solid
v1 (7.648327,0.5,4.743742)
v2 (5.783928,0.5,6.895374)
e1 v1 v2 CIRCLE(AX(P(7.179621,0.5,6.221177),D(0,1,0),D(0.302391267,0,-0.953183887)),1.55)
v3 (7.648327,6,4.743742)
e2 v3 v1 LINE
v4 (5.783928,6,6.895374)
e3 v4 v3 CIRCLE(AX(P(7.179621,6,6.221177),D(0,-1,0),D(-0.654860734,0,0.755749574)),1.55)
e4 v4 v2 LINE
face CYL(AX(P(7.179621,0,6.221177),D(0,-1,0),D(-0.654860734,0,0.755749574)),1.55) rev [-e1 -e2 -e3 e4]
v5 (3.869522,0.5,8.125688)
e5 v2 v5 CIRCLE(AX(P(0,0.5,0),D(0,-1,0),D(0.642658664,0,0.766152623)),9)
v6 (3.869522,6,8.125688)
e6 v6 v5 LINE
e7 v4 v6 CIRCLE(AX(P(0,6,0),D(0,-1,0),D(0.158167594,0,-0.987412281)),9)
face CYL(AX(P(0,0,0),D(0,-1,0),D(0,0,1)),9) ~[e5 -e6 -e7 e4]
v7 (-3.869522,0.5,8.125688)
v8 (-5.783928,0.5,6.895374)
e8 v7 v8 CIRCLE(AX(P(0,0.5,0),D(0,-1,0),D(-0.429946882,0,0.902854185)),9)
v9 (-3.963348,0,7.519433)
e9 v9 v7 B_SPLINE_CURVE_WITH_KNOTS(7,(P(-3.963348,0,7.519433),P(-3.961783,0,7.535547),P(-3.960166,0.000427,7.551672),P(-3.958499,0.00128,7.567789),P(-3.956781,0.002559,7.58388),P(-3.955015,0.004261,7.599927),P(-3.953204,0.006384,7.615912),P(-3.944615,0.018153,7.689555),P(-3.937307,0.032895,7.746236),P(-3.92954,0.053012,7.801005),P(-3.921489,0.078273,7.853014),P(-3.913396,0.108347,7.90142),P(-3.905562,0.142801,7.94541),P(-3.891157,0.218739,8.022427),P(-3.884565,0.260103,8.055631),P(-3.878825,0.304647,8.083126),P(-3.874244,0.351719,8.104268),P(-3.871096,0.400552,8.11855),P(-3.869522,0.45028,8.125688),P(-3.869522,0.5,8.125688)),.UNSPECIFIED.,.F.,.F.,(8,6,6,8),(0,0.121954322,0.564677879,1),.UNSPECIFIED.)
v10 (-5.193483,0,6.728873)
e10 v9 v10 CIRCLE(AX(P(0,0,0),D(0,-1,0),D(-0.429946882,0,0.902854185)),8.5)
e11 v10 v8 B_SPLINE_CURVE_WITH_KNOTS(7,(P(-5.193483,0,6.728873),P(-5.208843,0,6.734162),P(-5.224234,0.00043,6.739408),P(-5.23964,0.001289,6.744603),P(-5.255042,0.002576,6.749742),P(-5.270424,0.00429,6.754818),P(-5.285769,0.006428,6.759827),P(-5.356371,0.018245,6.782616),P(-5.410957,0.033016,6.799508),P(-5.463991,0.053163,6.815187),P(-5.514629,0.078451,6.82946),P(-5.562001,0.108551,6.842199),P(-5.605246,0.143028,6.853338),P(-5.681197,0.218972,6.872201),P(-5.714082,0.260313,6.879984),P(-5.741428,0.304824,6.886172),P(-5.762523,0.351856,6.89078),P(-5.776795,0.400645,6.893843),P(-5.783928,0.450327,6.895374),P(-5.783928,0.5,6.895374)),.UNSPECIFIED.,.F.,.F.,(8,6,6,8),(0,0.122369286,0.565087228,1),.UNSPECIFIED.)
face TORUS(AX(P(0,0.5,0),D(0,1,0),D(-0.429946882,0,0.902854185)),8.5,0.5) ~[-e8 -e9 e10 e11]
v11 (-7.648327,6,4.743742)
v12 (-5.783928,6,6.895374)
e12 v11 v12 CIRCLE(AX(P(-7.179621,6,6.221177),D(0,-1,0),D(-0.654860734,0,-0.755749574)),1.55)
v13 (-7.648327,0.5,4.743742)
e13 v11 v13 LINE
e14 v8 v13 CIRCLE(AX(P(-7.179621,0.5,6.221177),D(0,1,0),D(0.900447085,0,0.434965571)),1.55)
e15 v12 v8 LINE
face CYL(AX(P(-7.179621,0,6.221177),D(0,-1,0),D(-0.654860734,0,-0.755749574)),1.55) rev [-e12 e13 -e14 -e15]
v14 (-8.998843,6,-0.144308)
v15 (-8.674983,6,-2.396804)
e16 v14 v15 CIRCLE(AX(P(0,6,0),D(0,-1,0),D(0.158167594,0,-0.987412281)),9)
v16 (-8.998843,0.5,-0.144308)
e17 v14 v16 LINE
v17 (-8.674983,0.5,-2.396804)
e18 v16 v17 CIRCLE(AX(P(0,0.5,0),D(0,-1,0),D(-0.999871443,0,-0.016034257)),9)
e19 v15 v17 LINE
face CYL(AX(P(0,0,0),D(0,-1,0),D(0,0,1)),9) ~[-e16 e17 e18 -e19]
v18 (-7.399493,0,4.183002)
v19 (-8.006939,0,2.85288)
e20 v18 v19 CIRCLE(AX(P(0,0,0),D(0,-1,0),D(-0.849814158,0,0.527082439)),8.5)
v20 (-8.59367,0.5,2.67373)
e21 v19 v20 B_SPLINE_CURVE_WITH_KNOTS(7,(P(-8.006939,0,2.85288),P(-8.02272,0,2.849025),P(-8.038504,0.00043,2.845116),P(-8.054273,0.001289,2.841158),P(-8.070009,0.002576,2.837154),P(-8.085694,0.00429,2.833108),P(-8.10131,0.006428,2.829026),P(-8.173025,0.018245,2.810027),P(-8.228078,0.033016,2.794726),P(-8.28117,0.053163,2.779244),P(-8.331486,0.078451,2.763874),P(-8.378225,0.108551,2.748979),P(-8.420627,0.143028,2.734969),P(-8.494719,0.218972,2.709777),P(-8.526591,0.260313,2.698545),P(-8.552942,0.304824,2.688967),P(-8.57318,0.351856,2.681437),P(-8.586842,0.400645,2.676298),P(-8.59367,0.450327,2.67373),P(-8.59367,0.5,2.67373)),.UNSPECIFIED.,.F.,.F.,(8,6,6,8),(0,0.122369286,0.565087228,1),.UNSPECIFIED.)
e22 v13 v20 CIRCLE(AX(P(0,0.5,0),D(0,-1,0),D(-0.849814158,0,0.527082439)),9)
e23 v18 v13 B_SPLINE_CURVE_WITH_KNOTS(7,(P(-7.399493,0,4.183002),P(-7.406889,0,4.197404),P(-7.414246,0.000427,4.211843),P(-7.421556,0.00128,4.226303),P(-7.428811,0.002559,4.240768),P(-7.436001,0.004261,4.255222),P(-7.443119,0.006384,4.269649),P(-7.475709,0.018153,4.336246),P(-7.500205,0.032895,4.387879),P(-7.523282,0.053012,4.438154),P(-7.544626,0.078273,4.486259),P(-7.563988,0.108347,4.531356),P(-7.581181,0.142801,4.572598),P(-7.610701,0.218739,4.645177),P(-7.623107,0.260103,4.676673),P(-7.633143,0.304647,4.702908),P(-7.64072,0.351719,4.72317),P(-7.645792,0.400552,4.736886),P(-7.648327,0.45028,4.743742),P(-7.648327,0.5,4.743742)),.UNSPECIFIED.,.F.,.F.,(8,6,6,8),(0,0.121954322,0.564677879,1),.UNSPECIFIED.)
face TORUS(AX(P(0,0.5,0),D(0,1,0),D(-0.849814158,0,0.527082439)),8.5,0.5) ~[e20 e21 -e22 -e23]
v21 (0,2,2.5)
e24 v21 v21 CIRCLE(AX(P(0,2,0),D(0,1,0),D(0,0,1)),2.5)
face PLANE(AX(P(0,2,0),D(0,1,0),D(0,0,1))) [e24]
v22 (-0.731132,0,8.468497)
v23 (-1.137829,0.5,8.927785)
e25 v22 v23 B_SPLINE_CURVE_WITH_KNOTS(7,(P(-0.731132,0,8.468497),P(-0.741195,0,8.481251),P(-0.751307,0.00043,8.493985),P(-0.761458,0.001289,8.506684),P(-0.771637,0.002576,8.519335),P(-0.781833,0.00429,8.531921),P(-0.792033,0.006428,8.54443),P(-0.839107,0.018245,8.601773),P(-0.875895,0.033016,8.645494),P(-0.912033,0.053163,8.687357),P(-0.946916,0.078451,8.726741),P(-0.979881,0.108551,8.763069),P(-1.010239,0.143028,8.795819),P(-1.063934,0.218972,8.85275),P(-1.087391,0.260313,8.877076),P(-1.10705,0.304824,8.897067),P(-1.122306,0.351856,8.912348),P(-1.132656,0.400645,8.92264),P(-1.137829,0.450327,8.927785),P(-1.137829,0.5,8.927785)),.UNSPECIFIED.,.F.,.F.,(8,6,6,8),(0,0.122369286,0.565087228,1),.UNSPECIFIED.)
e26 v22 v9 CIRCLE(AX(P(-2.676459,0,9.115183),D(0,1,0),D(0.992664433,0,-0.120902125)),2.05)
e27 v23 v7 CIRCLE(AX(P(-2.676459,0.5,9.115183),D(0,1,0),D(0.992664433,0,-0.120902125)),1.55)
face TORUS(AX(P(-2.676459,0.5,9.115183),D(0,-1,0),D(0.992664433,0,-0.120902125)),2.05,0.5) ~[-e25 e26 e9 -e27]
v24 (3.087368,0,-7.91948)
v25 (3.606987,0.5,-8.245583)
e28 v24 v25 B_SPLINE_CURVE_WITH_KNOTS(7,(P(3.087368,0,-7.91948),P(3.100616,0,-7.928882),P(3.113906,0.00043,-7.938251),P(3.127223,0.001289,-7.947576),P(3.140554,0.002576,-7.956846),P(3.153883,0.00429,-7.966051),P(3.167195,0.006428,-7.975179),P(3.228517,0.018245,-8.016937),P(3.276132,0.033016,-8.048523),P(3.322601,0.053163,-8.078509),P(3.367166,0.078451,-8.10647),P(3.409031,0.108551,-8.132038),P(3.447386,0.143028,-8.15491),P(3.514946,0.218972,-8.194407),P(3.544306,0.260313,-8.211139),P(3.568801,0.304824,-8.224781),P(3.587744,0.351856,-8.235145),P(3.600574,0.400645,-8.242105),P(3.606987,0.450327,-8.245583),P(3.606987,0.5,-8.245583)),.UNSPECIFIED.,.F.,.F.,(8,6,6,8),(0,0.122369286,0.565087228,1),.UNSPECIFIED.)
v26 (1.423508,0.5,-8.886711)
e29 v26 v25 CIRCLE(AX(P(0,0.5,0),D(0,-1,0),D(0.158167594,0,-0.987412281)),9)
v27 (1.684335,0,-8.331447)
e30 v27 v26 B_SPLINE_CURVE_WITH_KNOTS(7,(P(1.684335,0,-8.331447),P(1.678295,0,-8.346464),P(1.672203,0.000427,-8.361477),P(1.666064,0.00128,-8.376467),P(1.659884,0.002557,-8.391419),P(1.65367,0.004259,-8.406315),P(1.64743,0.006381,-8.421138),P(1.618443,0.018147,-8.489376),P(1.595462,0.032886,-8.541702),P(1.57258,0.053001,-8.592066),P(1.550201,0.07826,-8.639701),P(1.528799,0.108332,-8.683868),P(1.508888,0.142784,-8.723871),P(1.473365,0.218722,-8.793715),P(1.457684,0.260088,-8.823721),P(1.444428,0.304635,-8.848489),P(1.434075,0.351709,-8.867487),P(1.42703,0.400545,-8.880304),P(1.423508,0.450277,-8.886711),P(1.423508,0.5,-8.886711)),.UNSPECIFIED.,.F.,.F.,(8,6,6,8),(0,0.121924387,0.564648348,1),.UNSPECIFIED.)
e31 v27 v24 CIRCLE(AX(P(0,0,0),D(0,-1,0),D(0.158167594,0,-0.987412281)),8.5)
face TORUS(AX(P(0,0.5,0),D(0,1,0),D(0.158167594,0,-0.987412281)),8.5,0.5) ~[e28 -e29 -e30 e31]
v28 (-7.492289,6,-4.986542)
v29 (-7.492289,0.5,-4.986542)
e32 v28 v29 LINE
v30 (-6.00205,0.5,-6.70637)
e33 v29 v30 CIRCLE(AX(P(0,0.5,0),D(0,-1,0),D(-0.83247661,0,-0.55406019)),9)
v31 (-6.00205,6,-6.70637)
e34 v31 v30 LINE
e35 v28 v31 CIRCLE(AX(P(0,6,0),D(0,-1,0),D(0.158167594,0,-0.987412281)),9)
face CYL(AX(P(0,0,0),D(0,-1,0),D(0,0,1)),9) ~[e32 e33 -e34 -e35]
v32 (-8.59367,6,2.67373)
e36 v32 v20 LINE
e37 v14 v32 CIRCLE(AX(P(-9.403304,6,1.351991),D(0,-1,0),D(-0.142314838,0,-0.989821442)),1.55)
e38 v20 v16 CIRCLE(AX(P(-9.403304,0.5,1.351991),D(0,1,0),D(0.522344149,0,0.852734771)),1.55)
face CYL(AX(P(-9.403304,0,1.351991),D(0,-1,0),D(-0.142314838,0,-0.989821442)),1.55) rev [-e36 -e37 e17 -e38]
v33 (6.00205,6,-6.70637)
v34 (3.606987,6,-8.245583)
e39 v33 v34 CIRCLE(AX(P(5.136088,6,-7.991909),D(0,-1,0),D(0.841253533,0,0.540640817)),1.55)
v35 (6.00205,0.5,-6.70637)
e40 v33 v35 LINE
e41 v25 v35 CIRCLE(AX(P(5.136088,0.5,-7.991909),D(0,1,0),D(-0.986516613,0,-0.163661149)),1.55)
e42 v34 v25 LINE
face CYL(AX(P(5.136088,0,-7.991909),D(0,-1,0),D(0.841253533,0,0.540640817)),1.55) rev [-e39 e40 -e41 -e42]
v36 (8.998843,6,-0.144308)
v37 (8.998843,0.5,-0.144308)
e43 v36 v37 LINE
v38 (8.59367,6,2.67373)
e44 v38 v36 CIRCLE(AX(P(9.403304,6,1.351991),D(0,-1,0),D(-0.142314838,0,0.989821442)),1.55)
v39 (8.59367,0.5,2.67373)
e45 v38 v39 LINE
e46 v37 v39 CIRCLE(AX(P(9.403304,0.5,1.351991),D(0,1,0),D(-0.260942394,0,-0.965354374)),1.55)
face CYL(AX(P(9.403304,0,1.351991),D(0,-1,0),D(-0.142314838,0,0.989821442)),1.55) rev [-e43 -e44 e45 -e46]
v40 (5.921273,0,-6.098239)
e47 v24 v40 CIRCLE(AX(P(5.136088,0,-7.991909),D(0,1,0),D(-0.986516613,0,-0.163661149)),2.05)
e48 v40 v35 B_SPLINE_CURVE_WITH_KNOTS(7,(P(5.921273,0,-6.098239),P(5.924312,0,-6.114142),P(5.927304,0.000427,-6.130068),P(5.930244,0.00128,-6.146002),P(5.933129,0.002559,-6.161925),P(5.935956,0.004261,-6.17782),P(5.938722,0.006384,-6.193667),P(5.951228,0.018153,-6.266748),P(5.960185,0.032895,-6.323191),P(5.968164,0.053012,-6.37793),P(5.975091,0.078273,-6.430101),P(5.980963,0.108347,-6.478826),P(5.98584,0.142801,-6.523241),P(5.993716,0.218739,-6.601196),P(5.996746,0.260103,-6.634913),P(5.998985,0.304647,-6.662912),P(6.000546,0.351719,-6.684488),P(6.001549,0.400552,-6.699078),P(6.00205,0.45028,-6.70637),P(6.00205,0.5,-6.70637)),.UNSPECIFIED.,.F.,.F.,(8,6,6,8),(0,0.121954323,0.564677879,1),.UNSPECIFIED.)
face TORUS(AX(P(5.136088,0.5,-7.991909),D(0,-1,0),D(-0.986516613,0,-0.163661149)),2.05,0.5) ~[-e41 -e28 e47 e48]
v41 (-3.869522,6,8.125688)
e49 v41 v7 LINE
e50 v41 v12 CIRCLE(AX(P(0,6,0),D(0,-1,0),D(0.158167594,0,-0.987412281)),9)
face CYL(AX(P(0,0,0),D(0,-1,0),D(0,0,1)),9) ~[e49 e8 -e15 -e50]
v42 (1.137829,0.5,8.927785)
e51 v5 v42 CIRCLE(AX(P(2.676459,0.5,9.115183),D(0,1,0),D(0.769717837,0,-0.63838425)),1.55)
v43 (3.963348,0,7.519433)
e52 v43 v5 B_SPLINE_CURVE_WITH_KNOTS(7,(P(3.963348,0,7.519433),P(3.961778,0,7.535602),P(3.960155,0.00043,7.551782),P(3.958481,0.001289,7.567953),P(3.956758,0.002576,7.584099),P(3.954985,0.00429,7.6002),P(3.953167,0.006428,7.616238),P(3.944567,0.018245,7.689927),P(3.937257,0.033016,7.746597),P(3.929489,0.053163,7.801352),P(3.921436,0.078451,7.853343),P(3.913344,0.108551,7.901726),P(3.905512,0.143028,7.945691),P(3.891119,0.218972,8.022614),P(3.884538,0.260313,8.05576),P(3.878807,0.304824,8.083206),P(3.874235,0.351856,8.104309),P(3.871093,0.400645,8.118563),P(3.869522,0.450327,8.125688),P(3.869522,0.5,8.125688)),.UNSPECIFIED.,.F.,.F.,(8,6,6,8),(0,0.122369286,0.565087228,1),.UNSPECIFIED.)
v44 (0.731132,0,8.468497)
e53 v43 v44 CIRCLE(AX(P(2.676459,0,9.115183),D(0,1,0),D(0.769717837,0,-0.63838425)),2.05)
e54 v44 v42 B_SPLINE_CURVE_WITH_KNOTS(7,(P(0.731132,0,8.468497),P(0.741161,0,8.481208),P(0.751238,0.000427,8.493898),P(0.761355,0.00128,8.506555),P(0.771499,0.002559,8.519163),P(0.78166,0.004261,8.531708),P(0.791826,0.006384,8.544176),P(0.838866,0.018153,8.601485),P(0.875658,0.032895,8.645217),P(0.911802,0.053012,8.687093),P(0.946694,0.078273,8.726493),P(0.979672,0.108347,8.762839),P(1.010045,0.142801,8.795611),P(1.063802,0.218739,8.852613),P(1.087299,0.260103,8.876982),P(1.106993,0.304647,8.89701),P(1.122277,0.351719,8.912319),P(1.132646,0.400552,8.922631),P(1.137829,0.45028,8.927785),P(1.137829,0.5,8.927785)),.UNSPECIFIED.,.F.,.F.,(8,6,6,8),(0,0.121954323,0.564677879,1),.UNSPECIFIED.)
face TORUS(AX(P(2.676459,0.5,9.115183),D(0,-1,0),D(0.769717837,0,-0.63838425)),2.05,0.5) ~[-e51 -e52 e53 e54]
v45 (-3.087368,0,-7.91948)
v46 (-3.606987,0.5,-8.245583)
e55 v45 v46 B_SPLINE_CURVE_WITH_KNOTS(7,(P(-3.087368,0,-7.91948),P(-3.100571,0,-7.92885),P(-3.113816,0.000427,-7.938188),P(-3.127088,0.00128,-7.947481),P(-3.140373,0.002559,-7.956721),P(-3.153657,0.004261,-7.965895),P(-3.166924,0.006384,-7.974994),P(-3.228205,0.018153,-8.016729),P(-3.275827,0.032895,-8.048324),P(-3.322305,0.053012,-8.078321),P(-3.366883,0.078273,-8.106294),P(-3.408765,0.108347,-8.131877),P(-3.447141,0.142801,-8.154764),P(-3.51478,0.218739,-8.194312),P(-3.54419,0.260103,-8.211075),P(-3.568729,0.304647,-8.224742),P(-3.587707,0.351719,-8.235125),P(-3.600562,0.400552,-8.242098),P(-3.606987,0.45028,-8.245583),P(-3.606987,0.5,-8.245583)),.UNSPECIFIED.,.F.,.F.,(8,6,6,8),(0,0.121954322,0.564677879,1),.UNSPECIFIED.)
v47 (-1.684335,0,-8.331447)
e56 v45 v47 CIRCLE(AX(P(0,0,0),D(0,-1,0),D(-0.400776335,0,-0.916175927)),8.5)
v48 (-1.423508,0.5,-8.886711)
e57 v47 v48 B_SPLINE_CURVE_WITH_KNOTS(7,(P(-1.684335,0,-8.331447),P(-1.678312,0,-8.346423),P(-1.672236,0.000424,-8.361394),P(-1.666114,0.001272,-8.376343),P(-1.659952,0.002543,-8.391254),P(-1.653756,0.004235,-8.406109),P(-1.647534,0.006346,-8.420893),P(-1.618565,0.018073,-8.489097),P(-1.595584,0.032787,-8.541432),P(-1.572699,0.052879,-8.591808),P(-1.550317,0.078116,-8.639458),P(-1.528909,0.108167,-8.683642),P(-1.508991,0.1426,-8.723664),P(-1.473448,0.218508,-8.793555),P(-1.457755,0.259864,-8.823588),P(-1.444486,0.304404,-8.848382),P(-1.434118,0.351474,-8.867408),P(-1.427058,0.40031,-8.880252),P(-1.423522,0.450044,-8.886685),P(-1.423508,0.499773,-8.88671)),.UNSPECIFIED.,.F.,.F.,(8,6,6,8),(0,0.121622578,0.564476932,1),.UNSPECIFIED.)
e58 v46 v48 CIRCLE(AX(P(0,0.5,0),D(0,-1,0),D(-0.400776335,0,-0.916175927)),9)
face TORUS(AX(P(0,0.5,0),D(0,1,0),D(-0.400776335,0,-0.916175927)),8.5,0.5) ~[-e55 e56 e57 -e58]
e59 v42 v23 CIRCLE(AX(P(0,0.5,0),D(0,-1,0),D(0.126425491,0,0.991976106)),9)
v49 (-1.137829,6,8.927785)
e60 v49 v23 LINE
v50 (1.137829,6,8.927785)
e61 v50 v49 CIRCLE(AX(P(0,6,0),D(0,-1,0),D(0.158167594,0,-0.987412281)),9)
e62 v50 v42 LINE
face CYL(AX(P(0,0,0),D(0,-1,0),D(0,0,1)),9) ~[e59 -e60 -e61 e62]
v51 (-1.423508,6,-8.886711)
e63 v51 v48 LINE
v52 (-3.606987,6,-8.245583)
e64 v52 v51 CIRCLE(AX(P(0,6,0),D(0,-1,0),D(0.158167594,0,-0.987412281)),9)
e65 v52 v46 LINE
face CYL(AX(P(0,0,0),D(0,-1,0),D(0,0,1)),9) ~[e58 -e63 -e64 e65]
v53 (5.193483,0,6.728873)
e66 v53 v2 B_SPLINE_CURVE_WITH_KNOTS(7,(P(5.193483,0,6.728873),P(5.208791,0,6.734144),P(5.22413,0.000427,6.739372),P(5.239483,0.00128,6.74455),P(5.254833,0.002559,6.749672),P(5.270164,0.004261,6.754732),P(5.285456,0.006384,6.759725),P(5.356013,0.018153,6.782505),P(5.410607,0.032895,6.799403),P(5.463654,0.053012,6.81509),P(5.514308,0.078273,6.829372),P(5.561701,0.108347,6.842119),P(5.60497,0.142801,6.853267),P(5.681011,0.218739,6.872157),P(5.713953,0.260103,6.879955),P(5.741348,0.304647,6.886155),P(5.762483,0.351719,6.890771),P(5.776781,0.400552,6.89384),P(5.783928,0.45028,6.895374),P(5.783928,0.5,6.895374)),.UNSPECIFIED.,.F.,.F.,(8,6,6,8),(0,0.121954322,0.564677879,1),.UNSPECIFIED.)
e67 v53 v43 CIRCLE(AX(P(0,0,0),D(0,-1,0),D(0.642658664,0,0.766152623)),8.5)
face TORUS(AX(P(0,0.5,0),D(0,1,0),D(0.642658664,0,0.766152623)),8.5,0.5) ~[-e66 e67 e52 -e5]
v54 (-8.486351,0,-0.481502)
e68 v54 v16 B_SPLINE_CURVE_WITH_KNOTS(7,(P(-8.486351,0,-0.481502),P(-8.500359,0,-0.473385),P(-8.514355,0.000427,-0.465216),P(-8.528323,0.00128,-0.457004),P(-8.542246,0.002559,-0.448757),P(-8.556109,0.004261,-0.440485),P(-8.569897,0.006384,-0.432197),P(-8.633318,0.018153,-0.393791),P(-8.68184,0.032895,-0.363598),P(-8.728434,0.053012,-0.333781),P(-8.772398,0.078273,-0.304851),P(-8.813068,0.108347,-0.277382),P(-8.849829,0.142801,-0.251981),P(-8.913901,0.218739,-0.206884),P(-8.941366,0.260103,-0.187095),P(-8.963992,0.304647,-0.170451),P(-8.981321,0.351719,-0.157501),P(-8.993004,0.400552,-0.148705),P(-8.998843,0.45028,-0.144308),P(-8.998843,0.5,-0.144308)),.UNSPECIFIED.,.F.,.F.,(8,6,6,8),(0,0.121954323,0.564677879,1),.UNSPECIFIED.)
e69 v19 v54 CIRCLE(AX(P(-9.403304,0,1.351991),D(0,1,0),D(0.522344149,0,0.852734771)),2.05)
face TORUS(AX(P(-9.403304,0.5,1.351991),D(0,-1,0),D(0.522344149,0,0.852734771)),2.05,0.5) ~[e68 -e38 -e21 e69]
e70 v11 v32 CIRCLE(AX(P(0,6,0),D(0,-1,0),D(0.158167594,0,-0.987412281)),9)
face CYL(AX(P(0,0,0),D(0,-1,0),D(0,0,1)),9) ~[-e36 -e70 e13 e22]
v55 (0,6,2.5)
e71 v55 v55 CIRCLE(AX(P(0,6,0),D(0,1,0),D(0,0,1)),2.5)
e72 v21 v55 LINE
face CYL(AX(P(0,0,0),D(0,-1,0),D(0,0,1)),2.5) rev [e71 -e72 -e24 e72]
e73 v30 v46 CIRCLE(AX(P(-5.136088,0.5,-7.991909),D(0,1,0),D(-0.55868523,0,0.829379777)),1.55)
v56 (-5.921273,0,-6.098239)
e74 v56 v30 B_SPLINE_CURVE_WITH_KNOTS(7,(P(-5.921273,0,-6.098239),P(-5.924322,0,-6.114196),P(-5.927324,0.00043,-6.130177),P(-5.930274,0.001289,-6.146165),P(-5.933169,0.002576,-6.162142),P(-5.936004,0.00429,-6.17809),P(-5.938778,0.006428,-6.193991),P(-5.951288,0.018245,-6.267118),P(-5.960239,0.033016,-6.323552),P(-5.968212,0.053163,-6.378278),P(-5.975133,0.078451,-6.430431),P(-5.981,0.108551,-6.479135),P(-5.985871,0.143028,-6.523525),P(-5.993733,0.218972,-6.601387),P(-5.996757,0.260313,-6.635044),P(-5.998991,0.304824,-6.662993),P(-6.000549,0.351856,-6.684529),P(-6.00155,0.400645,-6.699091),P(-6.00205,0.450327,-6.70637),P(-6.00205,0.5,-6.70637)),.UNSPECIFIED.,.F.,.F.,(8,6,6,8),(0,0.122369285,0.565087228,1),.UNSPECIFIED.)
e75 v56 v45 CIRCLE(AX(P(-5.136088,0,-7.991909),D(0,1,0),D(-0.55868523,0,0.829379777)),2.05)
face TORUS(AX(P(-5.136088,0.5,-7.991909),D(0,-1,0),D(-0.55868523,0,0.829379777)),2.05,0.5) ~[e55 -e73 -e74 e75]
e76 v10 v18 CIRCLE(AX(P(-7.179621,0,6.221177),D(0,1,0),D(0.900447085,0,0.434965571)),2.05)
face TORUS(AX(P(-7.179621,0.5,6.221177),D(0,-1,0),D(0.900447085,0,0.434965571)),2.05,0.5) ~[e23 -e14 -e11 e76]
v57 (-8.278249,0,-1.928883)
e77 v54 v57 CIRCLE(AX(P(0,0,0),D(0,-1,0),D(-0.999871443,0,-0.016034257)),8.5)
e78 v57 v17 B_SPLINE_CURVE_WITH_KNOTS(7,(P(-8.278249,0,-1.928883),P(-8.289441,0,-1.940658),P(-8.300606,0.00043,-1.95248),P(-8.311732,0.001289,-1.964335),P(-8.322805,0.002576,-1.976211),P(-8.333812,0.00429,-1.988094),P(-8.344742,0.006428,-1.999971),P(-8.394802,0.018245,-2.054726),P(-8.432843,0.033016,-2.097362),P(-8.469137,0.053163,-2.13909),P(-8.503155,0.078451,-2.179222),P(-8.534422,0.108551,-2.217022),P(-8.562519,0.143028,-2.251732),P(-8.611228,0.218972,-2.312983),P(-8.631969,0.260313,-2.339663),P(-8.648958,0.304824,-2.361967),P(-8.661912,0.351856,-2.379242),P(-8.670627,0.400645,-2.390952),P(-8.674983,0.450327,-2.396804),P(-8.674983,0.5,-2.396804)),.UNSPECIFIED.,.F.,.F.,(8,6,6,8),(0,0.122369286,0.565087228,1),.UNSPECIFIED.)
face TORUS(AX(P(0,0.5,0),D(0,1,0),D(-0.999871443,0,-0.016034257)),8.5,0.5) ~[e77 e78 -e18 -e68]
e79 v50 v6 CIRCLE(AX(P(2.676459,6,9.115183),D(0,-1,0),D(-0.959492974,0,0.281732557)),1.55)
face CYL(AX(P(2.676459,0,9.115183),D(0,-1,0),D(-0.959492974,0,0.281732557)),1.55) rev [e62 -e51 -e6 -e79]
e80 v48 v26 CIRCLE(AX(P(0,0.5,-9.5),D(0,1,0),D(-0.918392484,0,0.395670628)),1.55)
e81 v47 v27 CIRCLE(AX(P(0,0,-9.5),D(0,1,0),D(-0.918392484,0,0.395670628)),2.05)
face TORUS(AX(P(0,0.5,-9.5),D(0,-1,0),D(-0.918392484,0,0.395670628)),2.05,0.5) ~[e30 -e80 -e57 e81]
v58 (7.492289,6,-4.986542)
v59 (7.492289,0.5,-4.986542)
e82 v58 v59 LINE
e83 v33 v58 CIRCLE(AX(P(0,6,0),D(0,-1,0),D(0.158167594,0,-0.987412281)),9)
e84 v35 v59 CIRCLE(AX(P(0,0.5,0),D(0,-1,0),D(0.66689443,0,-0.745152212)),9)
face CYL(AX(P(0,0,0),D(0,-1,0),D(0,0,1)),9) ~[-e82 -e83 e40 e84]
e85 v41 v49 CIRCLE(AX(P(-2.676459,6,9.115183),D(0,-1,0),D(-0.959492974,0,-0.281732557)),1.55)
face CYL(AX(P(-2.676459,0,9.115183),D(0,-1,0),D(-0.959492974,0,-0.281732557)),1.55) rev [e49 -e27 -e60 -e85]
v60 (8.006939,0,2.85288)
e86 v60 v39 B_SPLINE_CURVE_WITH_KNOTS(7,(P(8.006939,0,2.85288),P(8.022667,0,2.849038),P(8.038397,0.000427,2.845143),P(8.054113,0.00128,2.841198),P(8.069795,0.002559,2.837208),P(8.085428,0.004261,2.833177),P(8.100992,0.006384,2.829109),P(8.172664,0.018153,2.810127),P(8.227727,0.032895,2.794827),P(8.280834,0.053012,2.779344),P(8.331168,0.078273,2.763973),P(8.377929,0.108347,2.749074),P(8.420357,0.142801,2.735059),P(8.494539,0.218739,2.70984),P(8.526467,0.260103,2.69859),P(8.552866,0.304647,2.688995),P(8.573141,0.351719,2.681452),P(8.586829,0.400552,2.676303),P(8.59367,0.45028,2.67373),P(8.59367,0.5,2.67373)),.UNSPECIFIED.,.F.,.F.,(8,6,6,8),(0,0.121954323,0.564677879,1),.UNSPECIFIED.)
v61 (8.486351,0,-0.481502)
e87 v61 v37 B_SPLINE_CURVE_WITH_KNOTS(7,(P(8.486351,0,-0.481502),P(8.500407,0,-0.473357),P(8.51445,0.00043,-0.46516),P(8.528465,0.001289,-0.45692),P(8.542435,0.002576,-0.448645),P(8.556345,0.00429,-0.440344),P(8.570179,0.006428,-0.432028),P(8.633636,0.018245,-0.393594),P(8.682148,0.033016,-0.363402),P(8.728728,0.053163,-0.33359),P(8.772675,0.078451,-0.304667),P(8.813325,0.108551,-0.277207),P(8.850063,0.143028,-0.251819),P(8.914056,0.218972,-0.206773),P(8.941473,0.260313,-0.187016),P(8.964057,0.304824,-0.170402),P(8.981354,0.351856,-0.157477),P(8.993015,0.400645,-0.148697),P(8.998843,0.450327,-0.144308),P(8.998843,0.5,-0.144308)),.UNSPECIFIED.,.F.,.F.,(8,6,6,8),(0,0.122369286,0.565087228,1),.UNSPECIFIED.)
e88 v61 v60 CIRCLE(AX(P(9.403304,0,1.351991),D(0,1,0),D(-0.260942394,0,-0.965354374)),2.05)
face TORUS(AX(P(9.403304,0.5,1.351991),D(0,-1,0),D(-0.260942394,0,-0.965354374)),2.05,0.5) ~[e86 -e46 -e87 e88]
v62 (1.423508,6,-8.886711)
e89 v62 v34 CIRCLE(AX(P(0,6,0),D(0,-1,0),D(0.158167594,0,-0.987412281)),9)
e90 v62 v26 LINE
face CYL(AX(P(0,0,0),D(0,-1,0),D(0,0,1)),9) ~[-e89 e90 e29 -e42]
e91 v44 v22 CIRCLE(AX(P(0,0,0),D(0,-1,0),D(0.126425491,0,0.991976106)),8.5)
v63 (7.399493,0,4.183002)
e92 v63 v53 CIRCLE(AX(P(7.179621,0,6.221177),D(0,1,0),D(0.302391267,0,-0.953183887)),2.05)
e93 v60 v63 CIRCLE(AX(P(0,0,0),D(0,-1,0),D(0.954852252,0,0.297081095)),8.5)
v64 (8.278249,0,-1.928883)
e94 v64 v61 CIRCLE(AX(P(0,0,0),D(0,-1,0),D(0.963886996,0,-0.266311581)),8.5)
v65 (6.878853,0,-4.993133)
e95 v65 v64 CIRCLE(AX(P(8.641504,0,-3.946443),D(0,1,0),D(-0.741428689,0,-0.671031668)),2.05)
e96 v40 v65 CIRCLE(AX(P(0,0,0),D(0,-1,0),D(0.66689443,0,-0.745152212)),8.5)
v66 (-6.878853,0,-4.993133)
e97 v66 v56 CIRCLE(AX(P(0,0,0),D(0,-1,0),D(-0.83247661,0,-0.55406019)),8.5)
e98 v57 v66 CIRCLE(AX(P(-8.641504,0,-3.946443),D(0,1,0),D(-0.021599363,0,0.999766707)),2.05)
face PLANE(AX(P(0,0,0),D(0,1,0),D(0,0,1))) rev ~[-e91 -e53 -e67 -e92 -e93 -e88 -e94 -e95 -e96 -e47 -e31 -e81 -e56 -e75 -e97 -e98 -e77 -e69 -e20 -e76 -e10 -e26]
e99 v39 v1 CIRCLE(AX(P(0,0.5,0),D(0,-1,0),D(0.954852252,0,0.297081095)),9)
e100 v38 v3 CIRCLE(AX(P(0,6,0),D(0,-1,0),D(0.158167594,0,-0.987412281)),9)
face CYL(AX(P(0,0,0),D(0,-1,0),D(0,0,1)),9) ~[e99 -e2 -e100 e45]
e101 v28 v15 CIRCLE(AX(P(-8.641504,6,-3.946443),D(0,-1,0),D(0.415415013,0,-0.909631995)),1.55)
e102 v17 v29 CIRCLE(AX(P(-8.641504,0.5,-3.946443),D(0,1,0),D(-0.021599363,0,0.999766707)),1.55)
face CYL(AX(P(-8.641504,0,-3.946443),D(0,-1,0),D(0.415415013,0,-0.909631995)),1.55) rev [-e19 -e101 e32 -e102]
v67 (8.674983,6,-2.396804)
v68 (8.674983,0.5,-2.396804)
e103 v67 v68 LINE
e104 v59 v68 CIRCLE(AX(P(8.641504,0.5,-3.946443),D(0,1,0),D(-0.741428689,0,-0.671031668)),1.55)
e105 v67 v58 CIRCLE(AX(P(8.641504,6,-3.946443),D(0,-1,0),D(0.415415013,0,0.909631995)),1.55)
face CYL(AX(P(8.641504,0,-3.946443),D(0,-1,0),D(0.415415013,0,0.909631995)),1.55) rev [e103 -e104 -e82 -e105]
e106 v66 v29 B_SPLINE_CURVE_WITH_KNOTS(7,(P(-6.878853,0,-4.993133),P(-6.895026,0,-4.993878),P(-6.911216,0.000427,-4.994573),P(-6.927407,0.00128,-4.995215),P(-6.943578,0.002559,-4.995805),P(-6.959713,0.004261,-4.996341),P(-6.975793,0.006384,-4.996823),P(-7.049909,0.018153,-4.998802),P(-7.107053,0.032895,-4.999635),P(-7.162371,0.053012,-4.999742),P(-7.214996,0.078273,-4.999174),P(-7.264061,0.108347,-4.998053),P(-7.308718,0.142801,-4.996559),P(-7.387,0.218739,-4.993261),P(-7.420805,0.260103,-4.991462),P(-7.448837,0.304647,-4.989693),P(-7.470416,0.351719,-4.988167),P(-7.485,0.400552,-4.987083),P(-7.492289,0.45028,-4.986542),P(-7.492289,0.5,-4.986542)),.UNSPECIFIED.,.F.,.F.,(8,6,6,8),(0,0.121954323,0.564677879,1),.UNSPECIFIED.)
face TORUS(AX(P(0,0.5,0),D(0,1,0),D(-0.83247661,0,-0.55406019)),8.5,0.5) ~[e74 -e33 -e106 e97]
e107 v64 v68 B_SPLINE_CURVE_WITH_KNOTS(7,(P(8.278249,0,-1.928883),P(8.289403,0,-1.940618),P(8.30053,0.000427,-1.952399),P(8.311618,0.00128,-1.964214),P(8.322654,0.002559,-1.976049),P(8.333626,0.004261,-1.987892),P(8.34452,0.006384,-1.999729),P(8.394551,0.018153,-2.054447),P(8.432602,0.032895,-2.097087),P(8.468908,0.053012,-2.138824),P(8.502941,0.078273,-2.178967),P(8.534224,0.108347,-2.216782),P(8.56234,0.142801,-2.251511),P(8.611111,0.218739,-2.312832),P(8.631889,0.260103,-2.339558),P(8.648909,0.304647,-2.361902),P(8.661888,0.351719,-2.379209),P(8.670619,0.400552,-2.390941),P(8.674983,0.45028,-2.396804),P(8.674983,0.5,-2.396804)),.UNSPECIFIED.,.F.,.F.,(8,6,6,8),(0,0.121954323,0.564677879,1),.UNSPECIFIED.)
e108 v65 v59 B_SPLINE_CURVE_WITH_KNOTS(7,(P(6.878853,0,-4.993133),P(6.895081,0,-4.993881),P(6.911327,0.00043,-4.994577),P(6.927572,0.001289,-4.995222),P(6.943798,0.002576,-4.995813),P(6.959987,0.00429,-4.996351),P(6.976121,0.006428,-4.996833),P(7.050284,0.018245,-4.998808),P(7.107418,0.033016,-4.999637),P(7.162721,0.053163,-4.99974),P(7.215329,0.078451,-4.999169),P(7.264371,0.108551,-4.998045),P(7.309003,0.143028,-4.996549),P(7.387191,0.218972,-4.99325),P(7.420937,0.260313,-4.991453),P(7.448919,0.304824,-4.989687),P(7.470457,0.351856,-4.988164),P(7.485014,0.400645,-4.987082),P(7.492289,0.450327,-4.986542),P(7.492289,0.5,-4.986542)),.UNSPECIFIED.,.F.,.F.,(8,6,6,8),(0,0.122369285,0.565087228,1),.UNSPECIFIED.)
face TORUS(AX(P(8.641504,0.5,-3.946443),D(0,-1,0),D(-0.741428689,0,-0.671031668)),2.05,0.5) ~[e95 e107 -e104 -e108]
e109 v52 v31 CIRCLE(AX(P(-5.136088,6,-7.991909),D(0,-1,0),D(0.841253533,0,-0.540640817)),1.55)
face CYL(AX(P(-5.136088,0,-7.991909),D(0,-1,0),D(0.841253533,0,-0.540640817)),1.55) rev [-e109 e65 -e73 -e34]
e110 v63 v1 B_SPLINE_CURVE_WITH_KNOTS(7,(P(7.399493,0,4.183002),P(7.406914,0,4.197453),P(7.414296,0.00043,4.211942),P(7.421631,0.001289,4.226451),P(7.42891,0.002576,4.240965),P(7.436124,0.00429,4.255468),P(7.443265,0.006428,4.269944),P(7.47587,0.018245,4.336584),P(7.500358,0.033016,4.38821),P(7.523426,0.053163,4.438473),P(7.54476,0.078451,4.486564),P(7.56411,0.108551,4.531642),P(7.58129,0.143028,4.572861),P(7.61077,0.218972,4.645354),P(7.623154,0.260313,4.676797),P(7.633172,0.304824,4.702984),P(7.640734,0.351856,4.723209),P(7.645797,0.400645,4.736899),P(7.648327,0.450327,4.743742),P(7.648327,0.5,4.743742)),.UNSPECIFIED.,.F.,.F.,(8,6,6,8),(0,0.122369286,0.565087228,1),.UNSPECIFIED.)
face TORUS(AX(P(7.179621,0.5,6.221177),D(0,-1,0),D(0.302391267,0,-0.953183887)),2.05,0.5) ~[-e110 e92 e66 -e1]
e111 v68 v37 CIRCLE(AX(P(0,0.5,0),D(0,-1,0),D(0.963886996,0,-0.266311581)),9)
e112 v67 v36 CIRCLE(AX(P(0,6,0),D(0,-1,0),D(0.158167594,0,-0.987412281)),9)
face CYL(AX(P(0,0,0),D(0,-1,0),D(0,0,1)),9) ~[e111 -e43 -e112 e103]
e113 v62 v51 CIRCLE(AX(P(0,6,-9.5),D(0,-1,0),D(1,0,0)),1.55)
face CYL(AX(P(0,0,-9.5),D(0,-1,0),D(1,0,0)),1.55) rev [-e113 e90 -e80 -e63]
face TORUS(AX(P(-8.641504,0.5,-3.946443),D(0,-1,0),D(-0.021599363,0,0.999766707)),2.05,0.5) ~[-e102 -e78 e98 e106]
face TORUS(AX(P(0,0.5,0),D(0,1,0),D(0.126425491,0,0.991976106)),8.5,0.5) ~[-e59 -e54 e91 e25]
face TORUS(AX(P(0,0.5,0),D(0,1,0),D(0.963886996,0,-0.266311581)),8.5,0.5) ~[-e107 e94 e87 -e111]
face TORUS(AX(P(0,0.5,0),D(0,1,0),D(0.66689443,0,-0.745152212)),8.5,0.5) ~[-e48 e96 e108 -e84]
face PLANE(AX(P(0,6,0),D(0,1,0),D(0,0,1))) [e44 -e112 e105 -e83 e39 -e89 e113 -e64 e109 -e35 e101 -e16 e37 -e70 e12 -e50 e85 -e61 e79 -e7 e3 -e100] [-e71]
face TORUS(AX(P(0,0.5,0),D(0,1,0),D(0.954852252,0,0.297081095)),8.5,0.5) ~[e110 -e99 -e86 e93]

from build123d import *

# Parameters (mm, degrees)
SKETCH1_R           = 9
SKETCH1_R_2         = 2.5
BOSS_EXTRUDE1_DEPTH = 6
SKETCH1_3_R         = 2.5
BOSS_EXTRUDE2_DEPTH = 2
SKETCH1_4_R         = 1.55
CUT_EXTRUDE1_DEPTH  = 15.071247279
CIRPATTERN1_COUNT   = 11
FILLET1_R           = 0.5


with BuildPart() as part:
    # Sketch1 → Boss-Extrude1 (new body)
    with BuildSketch(Plane(origin=(0, 0, 0), x_dir=(1, 0, 0), z_dir=(0, 1, 0))):
        Circle(SKETCH1_R)
        Circle(SKETCH1_R_2, mode=Mode.SUBTRACT)
    extrude(amount=BOSS_EXTRUDE1_DEPTH)

    # Sketch1<3> → Boss-Extrude2 (add)
    with BuildSketch(Plane(origin=(0, 0, 0), x_dir=(1, 0, 0), z_dir=(0, 1, 0))):
        Circle(SKETCH1_3_R)
    extrude(amount=BOSS_EXTRUDE2_DEPTH)

    # Sketch1<4> → Cut-Extrude1 (cut, through all)
    with BuildSketch(Plane(origin=(0, 0, 0), x_dir=(1, 0, 0), z_dir=(0, 1, 0))):
        with Locations((0, 9.5)):
            Circle(SKETCH1_4_R)
    cut_extrude1 = extrude(amount=CUT_EXTRUDE1_DEPTH, mode=Mode.SUBTRACT)

    # CirPattern1: Cut-Extrude1 ×11 about axis
    cirpattern1_axis = Axis((0, 0, 0), (0, 1, 0))
    for i in range(1, CIRPATTERN1_COUNT):
        add(cut_extrude1.rotate(cirpattern1_axis, i * 360 / CIRPATTERN1_COUNT), mode=Mode.SUBTRACT)

    # Fillet1
    fillet1_edges = [part.edges().sort_by_distance(p)[0] for p in [
        (-8.908392977, 0, -1.280833544),
        (-7.869080463, 0, 1.131402964),
        (-8.186687958, 0, 3.738735117),
        (-6.008209116, 0, 5.206142835),
        (-4.865767357, 0, 7.571281795),
        (-2.239773827, 0, 7.62796914),
        (0, 0, 9),
        (2.239773827, 0, 7.62796914),
        (4.865767357, 0, 7.571281795),
        (6.008209116, 0, 5.206142835),
        (8.186687958, 0, 3.738735117),
        (0, 0, -7.95),
        (-2.535593012, 0, -8.635436763),
        (-4.298094499, 0, -6.687965586),
        (-6.801746169, 0, -5.893746606),
        (-7.231574363, 0, -3.302549353),
        (7.869080463, 0, 1.131402964),
        (8.908392977, 0, -1.280833544),
        (7.231574363, 0, -3.302549353),
        (6.801746169, 0, -5.893746606),
        (4.298094499, 0, -6.687965586),
        (2.535593012, 0, -8.635436763),
    ]]
    fillet(fillet1_edges, radius=FILLET1_R)


solid = part.part
